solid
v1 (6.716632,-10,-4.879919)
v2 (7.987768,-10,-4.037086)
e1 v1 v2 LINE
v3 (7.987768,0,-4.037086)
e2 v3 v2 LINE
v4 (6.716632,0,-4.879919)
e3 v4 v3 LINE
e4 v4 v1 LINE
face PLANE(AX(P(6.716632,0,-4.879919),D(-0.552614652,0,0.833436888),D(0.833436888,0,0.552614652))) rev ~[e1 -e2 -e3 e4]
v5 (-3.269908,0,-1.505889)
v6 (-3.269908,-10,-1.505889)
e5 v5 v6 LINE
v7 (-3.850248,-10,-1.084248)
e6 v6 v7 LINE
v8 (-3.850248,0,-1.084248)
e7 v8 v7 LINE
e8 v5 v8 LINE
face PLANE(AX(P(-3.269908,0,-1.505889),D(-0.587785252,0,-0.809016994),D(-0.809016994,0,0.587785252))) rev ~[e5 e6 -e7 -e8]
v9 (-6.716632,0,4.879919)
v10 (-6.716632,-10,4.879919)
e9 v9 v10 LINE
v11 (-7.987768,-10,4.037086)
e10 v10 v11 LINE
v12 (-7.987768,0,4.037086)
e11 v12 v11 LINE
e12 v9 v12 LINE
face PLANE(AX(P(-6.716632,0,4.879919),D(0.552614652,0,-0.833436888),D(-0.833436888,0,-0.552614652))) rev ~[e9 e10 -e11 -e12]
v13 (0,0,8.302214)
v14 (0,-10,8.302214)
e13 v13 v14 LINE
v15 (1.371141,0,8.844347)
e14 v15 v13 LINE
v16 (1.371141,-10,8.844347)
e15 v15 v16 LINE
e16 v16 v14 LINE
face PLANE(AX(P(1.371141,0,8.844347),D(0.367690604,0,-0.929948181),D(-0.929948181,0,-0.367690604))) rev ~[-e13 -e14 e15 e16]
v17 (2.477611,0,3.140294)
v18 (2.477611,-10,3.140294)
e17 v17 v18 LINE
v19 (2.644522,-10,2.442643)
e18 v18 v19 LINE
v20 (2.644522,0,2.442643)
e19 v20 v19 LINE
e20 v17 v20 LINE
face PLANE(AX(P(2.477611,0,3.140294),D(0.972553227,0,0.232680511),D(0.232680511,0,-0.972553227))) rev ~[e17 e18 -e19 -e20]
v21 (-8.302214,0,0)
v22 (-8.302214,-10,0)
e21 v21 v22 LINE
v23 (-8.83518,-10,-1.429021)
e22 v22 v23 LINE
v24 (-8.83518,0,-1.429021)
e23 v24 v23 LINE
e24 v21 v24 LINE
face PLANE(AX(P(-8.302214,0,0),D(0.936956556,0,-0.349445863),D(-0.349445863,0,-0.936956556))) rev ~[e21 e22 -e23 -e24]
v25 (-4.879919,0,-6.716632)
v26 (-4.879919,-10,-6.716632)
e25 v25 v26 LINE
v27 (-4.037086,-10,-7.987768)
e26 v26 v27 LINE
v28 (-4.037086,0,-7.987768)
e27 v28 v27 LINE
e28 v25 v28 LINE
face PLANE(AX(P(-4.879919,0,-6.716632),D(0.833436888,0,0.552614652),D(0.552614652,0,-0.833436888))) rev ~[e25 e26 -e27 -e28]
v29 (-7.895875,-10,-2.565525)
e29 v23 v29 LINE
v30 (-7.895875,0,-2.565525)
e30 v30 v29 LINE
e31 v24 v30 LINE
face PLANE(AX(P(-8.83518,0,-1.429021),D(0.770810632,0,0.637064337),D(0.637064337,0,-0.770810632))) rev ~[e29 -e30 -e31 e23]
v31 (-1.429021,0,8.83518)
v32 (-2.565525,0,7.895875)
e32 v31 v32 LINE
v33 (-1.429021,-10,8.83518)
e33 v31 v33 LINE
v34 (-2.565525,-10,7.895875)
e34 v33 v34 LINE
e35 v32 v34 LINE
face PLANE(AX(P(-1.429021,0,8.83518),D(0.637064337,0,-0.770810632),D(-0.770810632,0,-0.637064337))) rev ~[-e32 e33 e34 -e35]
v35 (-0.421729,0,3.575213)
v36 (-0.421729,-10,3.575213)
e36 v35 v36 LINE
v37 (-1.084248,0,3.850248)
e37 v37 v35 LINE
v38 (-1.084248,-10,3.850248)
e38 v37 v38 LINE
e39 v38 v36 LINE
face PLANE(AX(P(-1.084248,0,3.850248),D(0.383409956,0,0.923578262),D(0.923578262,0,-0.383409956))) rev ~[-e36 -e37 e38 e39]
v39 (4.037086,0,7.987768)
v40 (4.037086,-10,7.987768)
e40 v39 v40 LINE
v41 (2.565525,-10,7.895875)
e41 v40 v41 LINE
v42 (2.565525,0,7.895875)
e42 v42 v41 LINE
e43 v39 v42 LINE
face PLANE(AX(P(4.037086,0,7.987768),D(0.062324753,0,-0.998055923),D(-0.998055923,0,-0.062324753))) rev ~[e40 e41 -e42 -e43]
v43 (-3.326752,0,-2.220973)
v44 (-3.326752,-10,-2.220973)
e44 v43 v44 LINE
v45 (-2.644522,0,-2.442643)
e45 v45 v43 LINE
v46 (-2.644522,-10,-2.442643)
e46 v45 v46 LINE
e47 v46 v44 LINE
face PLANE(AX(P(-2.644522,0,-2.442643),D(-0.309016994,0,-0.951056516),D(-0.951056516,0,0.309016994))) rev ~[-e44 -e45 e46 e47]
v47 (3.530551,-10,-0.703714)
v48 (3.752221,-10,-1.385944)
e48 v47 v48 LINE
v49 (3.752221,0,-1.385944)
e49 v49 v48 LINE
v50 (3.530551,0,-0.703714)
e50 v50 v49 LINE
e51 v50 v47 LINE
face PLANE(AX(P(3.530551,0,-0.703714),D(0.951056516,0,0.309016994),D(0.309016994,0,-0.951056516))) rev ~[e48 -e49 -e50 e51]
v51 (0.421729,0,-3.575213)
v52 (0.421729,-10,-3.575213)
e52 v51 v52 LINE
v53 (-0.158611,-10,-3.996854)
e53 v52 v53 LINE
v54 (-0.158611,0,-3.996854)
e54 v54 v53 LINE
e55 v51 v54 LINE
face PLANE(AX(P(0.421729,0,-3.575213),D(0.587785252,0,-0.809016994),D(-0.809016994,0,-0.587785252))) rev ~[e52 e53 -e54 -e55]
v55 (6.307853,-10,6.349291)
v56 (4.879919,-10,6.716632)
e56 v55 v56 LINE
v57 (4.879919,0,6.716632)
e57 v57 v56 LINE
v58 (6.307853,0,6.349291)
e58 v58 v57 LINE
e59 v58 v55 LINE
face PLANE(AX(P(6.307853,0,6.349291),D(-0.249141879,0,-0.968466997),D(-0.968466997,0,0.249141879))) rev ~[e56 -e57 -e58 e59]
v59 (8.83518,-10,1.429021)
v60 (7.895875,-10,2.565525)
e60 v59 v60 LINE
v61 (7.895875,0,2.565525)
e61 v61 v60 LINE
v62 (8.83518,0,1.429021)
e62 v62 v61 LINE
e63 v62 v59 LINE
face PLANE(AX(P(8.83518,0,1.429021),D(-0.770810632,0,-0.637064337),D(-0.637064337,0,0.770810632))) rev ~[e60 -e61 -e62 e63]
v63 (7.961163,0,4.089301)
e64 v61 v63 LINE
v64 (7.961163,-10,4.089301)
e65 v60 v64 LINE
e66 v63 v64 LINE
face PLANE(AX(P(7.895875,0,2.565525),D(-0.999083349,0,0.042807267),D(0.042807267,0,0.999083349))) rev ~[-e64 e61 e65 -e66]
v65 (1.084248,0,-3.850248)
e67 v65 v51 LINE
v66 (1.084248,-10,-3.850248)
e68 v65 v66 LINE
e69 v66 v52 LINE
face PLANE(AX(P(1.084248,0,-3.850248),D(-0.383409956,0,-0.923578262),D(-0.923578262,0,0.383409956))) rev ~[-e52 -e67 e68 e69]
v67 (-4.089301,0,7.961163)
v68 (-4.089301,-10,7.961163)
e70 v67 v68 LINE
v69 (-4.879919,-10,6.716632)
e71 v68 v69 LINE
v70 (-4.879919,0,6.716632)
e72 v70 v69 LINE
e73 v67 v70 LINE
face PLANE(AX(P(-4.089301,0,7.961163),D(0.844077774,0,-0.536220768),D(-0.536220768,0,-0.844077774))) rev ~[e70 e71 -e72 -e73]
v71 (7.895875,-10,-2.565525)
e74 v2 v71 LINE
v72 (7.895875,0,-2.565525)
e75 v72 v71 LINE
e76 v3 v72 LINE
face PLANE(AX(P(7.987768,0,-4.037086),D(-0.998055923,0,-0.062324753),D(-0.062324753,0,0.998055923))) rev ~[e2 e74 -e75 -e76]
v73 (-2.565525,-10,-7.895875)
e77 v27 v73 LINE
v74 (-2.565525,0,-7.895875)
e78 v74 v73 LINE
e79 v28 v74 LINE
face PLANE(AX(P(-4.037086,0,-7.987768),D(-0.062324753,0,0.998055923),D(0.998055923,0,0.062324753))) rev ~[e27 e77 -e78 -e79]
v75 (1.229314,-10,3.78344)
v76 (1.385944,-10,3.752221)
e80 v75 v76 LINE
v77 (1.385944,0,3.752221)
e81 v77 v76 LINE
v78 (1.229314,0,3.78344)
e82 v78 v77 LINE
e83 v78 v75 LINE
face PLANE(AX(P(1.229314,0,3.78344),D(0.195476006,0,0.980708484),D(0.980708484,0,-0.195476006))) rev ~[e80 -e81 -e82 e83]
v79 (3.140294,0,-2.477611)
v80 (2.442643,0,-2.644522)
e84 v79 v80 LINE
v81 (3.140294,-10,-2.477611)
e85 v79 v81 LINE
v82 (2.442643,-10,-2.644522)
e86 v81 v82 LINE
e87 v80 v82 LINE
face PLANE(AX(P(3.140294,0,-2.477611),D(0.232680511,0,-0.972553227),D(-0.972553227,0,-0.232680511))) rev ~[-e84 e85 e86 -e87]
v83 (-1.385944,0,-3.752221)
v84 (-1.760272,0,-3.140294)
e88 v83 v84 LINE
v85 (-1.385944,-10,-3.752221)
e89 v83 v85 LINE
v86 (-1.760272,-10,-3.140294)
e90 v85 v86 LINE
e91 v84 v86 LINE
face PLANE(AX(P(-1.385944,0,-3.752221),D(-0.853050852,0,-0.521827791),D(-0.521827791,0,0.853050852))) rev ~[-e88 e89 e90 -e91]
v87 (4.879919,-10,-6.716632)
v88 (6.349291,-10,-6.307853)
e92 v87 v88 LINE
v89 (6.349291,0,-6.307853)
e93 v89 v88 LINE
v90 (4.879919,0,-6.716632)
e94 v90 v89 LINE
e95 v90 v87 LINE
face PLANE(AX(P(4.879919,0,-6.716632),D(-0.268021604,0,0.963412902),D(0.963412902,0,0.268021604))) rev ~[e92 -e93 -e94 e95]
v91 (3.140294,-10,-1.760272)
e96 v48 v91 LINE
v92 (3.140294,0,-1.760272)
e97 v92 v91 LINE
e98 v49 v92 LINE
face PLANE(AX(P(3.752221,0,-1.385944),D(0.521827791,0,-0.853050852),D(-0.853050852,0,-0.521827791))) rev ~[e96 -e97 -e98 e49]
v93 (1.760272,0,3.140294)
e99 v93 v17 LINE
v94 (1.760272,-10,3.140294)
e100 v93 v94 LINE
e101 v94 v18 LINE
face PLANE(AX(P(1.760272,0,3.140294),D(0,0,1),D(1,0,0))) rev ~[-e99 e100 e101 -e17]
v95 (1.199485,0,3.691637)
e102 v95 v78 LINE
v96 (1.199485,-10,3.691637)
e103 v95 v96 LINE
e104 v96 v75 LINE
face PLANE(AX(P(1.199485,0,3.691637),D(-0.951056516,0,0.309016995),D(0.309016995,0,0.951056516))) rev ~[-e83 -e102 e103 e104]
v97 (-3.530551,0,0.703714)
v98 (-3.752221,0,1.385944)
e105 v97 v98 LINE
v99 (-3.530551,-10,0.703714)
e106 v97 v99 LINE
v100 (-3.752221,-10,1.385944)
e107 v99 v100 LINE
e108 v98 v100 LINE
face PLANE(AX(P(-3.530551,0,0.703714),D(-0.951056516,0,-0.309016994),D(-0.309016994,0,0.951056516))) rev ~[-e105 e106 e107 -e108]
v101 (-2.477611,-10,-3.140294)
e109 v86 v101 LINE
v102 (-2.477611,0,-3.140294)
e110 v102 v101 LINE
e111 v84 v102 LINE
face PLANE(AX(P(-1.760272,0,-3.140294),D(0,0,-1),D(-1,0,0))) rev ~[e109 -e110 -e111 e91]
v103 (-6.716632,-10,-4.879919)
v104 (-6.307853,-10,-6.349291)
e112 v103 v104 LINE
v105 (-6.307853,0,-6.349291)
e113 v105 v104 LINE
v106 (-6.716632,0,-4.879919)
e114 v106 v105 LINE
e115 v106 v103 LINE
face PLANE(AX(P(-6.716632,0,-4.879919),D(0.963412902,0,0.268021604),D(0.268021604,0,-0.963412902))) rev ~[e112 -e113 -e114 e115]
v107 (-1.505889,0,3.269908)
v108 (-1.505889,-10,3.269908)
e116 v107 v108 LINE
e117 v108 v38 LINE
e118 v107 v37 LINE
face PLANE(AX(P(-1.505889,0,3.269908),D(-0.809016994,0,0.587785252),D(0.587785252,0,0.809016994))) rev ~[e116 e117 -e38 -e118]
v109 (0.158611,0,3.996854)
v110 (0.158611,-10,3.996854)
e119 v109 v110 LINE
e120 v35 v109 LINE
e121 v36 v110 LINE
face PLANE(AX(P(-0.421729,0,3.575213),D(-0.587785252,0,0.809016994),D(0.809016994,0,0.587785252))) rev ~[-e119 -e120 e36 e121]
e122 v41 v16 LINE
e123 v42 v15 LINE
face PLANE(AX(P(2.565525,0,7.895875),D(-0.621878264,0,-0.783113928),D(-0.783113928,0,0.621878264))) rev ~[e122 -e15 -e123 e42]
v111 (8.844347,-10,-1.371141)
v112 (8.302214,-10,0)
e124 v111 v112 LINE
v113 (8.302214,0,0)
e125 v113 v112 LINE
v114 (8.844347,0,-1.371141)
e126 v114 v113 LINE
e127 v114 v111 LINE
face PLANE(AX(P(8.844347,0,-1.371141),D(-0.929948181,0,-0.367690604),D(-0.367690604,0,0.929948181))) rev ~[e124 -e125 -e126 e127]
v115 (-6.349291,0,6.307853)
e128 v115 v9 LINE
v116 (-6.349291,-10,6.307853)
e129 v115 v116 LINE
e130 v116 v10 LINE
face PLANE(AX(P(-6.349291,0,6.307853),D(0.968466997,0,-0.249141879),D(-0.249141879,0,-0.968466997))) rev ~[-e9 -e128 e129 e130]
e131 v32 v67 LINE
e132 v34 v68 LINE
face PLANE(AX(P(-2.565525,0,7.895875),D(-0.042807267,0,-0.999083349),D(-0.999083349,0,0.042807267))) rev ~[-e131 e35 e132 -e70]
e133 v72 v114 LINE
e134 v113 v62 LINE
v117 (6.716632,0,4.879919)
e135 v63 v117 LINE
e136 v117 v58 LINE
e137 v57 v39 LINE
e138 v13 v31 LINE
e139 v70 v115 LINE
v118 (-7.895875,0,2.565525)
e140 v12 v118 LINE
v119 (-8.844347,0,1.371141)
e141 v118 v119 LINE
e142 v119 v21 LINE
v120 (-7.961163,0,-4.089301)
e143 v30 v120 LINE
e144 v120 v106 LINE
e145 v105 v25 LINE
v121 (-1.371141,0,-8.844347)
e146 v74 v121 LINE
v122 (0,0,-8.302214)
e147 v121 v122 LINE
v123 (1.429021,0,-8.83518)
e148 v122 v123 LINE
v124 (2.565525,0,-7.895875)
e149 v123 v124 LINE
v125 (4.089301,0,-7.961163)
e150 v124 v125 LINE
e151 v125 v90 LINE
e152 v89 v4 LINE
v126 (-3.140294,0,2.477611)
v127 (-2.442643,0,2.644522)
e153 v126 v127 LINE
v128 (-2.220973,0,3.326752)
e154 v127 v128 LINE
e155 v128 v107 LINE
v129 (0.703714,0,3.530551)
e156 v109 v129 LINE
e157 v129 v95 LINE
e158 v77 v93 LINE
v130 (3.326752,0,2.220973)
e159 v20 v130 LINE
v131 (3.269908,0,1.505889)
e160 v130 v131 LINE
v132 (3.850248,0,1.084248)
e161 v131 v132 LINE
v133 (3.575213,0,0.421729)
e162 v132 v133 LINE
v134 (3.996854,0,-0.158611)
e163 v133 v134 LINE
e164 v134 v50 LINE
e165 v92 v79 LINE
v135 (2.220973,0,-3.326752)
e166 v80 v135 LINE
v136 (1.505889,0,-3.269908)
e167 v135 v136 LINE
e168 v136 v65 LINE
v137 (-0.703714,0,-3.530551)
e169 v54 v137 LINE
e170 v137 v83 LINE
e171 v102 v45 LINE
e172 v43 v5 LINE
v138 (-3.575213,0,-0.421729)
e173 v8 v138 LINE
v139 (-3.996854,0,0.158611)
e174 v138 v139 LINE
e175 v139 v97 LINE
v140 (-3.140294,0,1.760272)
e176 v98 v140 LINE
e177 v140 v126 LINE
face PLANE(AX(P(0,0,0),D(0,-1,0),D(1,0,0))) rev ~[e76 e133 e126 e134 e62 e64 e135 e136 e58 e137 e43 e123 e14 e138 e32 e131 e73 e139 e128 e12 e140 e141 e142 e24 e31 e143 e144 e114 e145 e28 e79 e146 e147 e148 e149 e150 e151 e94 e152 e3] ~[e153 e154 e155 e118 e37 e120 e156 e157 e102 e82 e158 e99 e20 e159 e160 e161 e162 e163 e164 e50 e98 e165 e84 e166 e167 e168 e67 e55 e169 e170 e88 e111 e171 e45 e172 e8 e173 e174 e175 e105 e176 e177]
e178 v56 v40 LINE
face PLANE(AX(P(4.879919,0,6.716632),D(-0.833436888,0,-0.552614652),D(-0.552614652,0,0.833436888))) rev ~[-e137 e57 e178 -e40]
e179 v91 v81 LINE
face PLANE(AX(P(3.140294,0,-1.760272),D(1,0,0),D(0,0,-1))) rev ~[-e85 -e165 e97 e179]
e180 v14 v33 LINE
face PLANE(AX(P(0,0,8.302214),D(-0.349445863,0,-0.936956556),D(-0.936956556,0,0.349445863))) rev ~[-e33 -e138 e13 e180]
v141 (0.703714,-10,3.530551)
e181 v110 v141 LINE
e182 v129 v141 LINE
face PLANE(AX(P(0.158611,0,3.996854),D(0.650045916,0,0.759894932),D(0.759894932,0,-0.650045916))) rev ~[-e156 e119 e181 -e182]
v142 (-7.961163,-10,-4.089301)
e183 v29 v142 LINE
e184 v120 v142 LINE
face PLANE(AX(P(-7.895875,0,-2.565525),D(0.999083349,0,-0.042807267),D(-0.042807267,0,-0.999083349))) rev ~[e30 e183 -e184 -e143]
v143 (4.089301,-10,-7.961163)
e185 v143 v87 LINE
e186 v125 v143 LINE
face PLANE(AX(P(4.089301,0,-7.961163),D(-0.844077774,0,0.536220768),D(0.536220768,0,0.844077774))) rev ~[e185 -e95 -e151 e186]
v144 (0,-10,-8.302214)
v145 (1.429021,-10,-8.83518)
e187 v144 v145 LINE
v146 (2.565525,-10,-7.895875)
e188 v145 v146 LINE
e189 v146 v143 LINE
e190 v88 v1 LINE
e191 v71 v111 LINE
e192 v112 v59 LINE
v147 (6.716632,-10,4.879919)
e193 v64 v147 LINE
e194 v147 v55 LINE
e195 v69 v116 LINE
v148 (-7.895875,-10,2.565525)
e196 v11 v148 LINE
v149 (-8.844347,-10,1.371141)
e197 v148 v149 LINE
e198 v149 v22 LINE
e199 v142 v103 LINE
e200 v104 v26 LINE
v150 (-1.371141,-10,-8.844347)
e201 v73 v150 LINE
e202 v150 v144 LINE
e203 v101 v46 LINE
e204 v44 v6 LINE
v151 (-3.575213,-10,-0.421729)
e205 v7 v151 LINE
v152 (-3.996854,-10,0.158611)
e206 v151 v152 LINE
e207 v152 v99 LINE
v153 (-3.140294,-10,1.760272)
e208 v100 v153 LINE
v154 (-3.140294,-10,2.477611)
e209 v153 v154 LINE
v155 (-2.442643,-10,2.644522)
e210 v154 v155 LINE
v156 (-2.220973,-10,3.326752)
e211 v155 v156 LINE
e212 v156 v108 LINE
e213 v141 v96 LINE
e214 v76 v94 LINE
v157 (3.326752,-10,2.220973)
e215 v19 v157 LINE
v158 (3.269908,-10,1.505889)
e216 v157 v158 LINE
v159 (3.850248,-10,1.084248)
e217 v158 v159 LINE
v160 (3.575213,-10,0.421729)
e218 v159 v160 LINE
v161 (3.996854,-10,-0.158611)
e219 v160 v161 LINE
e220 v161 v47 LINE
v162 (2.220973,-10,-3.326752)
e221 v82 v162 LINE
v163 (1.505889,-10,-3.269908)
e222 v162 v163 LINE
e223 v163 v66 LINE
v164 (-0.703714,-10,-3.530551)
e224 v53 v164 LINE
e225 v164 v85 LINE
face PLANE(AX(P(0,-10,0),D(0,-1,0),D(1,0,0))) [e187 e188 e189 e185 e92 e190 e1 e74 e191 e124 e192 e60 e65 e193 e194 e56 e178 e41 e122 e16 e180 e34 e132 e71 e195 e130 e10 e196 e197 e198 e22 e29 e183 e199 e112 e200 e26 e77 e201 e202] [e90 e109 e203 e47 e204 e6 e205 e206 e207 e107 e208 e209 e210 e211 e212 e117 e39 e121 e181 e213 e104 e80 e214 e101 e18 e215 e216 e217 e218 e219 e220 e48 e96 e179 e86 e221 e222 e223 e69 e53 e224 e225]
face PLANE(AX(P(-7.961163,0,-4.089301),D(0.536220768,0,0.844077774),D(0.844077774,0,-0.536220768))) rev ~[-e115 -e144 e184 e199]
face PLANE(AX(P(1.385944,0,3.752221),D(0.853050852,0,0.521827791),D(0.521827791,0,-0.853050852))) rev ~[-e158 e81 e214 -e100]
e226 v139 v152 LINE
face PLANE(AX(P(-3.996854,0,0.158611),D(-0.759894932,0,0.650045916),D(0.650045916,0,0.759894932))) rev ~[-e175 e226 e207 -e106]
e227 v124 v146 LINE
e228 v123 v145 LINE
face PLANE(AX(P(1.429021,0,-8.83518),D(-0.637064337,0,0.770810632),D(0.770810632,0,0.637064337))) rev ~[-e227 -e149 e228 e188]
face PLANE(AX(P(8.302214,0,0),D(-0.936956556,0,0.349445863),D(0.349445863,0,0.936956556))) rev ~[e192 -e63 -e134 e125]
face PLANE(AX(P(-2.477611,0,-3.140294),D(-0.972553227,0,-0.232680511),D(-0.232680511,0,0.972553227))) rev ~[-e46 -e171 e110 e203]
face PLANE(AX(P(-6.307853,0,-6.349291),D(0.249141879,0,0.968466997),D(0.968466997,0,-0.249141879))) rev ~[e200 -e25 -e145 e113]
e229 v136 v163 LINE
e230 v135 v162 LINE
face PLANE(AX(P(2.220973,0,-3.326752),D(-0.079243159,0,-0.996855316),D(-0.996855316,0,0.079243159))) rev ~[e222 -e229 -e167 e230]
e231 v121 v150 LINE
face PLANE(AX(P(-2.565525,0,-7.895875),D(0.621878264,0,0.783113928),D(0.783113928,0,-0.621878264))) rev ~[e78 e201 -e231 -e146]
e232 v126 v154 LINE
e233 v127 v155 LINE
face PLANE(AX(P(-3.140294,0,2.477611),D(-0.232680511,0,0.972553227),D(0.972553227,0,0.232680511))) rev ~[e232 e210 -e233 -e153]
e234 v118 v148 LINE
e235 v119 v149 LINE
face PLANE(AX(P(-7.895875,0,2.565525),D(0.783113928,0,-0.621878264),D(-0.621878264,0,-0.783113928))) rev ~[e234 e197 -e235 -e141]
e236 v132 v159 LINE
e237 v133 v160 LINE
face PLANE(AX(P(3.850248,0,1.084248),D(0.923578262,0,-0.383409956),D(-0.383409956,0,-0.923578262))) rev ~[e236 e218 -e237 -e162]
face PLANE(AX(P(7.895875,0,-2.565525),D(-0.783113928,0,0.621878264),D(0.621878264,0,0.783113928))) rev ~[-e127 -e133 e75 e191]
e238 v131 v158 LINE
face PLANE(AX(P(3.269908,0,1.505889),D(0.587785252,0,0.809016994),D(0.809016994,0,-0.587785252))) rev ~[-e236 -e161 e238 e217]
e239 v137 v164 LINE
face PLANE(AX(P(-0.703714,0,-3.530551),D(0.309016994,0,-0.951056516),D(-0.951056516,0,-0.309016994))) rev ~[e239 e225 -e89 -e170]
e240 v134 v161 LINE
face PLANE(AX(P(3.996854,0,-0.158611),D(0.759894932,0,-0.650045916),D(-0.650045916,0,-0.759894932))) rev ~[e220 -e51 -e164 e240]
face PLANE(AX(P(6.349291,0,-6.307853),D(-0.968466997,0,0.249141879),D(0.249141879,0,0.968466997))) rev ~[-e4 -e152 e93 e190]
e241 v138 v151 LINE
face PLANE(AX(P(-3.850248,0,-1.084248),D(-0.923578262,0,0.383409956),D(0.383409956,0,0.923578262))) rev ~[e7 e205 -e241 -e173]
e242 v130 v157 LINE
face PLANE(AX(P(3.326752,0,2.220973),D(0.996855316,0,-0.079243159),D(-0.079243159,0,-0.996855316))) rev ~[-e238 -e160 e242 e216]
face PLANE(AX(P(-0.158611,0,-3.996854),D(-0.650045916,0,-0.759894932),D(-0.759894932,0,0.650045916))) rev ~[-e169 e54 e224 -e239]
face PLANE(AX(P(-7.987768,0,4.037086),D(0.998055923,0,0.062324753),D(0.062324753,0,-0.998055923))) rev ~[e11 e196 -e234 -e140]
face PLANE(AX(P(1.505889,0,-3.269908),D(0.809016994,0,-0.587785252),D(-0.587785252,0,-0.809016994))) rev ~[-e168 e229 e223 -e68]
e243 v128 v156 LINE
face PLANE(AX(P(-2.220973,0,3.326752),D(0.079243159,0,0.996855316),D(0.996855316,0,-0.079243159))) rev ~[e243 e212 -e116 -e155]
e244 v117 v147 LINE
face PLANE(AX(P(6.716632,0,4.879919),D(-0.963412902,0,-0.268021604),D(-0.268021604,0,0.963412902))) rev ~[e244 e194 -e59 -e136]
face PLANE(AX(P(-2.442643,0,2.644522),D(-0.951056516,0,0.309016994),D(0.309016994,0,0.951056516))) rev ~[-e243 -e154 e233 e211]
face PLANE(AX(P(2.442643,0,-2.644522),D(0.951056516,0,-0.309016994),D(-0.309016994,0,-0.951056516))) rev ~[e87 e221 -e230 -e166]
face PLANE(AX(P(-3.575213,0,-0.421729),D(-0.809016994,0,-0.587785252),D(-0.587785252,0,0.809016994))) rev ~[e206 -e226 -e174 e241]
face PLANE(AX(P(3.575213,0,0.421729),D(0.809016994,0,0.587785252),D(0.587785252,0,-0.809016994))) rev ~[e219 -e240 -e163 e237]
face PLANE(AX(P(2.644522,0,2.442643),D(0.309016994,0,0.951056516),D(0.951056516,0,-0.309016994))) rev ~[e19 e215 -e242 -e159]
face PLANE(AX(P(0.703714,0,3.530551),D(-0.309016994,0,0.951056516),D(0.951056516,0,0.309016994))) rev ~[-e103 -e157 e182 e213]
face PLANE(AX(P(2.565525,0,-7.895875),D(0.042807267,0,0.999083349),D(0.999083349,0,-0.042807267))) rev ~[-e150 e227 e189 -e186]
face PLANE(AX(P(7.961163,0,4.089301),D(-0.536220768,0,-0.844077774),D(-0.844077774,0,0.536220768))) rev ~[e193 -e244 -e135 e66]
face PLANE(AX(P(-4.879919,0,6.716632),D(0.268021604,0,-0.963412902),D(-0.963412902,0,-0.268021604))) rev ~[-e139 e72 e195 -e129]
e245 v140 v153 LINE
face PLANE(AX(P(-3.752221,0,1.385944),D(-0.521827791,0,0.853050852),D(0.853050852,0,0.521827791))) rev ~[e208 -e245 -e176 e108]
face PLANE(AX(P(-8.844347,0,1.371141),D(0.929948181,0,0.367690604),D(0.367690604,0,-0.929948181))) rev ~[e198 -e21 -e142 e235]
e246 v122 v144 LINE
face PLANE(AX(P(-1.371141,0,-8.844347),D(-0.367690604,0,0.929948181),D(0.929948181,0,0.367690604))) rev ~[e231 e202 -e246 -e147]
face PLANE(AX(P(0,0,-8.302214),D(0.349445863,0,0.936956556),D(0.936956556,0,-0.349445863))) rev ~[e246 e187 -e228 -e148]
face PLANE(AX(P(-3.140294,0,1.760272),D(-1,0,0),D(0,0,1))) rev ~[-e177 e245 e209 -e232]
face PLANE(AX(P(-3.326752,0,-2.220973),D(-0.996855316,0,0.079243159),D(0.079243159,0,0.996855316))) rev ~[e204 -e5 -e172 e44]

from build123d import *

# Parameters (mm, degrees)
F1_DEPTH = 10


with BuildPart() as f1:
    # F0 (on Front) → F1 (new body)
    with BuildSketch(Plane.XZ):
        Polygon((2.5655252267, -7.8958747543), (4.8799189691, -6.7166322424), (6.7166322424, -4.8799189691), (7.8958747543, -2.5655252267), (8.3022140315, 0), (7.8958747543, 2.5655252267), (6.7166322424, 4.8799189691), (4.8799189691, 6.7166322424), (2.5655252267, 7.8958747543), (0, 8.3022140315), (-2.5655252267, 7.8958747543), (-4.8799189691, 6.7166322424), (-6.7166322424, 4.8799189691), (-7.8958747543, 2.5655252267), (-8.3022140315, 0), (-7.8958747543, -2.5655252267), (-6.7166322424, -4.8799189691), (-4.8799189691, -6.7166322424), (-2.5655252267, -7.8958747543), (0, -8.3022140315), align=None)
        Polygon((0.1586110624, 3.9968540793), (1.2293142469, 3.7834402195), (1.385943919, 3.752220603), (2.4776109283, 3.1402936308), (3.3267521175, 2.2209728384), (3.8502476305, 1.0842477501), (3.9968540793, -0.1586110624), (3.752220603, -1.385943919), (3.1402936308, -2.4776109283), (2.2209728384, -3.3267521175), (1.0842477501, -3.8502476305), (-0.1586110624, -3.9968540793), (-1.385943919, -3.752220603), (-2.4776109283, -3.1402936308), (-3.3267521175, -2.2209728384), (-3.8502476305, -1.0842477501), (-3.9968540793, 0.1586110624), (-3.752220603, 1.385943919), (-3.1402936308, 2.4776109283), (-2.2209728384, 3.3267521175), (-1.0842477501, 3.8502476305), align=None, mode=Mode.SUBTRACT)
        Polygon((-6.3492907419, 6.3078528102), (-6.7166322424, 4.8799189691), (-4.8799189691, 6.7166322424), align=None)
        Polygon((-4.8799189691, 6.7166322424), (-2.5655252267, 7.8958747543), (-4.0893006175, 7.9611632604), align=None)
        Polygon((-2.5655252267, 7.8958747543), (0, 8.3022140315), (-1.4290212569, 8.8351795821), align=None)
        Polygon((0, 8.3022140315), (2.5655252267, 7.8958747543), (1.3711406609, 8.8443469679), align=None)
        Polygon((2.5655252267, 7.8958747543), (4.8799189691, 6.7166322424), (4.0370857775, 7.9877680503), align=None)
        Polygon((4.8799189691, 6.7166322424), (6.7166322424, 4.8799189691), (6.3078528102, 6.3492907419), align=None)
        Polygon((6.7166322424, 4.8799189691), (7.8958747543, 2.5655252267), (7.9611632604, 4.0893006175), align=None)
        Polygon((7.8958747543, 2.5655252267), (8.3022140315, 0), (8.8351795821, 1.4290212569), align=None)
        Polygon((8.3022140315, 0), (7.8958747543, -2.5655252267), (8.8443469679, -1.3711406609), align=None)
        Polygon((7.8958747543, -2.5655252267), (6.7166322424, -4.8799189691), (7.9877680503, -4.0370857775), align=None)
        Polygon((6.7166322424, -4.8799189691), (4.8799189691, -6.7166322424), (6.3492907419, -6.3078528102), align=None)
        Polygon((4.0893006175, -7.9611632604), (4.8799189691, -6.7166322424), (2.5655252267, -7.8958747543), align=None)
        Polygon((1.4290212569, -8.8351795821), (2.5655252267, -7.8958747543), (0, -8.3022140315), align=None)
        Polygon((-1.3711406609, -8.8443469679), (0, -8.3022140315), (-2.5655252267, -7.8958747543), align=None)
        Polygon((-4.0370857775, -7.9877680503), (-2.5655252267, -7.8958747543), (-4.8799189691, -6.7166322424), align=None)
        Polygon((-6.3078528102, -6.3492907419), (-4.8799189691, -6.7166322424), (-6.7166322424, -4.8799189691), align=None)
        Polygon((-7.9611632604, -4.0893006175), (-6.7166322424, -4.8799189691), (-7.8958747543, -2.5655252267), align=None)
        Polygon((-8.8351795821, -1.4290212569), (-7.8958747543, -2.5655252267), (-8.3022140315, 0), align=None)
        Polygon((-7.9877680503, 4.0370857775), (-7.8958747543, 2.5655252267), (-6.7166322424, 4.8799189691), align=None)
        Polygon((-8.8443469679, 1.3711406609), (-8.3022140315, 0), (-7.8958747543, 2.5655252267), align=None)
        Polygon((-1.760271545, -3.1402936308), (-2.4776109283, -3.1402936308), (-1.385943919, -3.752220603), align=None)
        Polygon((-0.7037136241, -3.5305505428), (-1.385943919, -3.752220603), (-0.1586110624, -3.9968540793), align=None)
        Polygon((-0.1586110624, -3.9968540793), (1.0842477501, -3.8502476305), (0.4217286894, -3.5752125689), align=None)
        Polygon((1.0842477501, -3.8502476305), (2.2209728384, -3.3267521175), (1.5058892605, -3.2699078787), align=None)
        Polygon((2.2209728384, -3.3267521175), (3.1402936308, -2.4776109283), (2.4426428986, -2.6445218226), align=None)
        Polygon((3.1402936308, -2.4776109283), (3.752220603, -1.385943919), (3.1402936308, -1.760271545), align=None)
        Polygon((3.752220603, -1.385943919), (3.9968540793, -0.1586110624), (3.5305505428, -0.7037136241), align=None)
        Polygon((3.9968540793, -0.1586110624), (3.8502476305, 1.0842477501), (3.5752125689, 0.4217286894), align=None)
        Polygon((3.8502476305, 1.0842477501), (3.3267521175, 2.2209728384), (3.2699078787, 1.5058892605), align=None)
        Polygon((3.3267521175, 2.2209728384), (2.4776109283, 3.1402936308), (2.6445218226, 2.4426428986), align=None)
        Polygon((2.4776109283, 3.1402936308), (1.385943919, 3.752220603), (1.760271545, 3.1402936308), align=None)
        Polygon((-3.2699078787, -1.5058892605), (-3.8502476305, -1.0842477501), (-3.3267521175, -2.2209728384), align=None)
        Polygon((-2.4426428986, 2.6445218226), (-2.2209728384, 3.3267521175), (-3.1402936308, 2.4776109283), align=None)
        Polygon((-1.5058892605, 3.2699078787), (-1.0842477501, 3.8502476305), (-2.2209728384, 3.3267521175), align=None)
        Polygon((-0.4217286894, 3.5752125689), (0.1586110624, 3.9968540793), (-1.0842477501, 3.8502476305), align=None)
        Polygon((-3.1402936308, 1.760271545), (-3.1402936308, 2.4776109283), (-3.752220603, 1.385943919), align=None)
        Polygon((-3.5305505428, 0.7037136241), (-3.752220603, 1.385943919), (-3.9968540793, 0.1586110624), align=None)
        Polygon((-3.5752125689, -0.4217286894), (-3.9968540793, 0.1586110624), (-3.8502476305, -1.0842477501), align=None)
        Polygon((-2.6445218226, -2.4426428986), (-3.3267521175, -2.2209728384), (-2.4776109283, -3.1402936308), align=None)
        Polygon((1.1994854323, 3.6916365681), (1.2293142469, 3.7834402195), (0.1586110624, 3.9968540793), (0.7037136241, 3.5305505428), align=None)
    extrude(amount=F1_DEPTH)


solid = f1.part
